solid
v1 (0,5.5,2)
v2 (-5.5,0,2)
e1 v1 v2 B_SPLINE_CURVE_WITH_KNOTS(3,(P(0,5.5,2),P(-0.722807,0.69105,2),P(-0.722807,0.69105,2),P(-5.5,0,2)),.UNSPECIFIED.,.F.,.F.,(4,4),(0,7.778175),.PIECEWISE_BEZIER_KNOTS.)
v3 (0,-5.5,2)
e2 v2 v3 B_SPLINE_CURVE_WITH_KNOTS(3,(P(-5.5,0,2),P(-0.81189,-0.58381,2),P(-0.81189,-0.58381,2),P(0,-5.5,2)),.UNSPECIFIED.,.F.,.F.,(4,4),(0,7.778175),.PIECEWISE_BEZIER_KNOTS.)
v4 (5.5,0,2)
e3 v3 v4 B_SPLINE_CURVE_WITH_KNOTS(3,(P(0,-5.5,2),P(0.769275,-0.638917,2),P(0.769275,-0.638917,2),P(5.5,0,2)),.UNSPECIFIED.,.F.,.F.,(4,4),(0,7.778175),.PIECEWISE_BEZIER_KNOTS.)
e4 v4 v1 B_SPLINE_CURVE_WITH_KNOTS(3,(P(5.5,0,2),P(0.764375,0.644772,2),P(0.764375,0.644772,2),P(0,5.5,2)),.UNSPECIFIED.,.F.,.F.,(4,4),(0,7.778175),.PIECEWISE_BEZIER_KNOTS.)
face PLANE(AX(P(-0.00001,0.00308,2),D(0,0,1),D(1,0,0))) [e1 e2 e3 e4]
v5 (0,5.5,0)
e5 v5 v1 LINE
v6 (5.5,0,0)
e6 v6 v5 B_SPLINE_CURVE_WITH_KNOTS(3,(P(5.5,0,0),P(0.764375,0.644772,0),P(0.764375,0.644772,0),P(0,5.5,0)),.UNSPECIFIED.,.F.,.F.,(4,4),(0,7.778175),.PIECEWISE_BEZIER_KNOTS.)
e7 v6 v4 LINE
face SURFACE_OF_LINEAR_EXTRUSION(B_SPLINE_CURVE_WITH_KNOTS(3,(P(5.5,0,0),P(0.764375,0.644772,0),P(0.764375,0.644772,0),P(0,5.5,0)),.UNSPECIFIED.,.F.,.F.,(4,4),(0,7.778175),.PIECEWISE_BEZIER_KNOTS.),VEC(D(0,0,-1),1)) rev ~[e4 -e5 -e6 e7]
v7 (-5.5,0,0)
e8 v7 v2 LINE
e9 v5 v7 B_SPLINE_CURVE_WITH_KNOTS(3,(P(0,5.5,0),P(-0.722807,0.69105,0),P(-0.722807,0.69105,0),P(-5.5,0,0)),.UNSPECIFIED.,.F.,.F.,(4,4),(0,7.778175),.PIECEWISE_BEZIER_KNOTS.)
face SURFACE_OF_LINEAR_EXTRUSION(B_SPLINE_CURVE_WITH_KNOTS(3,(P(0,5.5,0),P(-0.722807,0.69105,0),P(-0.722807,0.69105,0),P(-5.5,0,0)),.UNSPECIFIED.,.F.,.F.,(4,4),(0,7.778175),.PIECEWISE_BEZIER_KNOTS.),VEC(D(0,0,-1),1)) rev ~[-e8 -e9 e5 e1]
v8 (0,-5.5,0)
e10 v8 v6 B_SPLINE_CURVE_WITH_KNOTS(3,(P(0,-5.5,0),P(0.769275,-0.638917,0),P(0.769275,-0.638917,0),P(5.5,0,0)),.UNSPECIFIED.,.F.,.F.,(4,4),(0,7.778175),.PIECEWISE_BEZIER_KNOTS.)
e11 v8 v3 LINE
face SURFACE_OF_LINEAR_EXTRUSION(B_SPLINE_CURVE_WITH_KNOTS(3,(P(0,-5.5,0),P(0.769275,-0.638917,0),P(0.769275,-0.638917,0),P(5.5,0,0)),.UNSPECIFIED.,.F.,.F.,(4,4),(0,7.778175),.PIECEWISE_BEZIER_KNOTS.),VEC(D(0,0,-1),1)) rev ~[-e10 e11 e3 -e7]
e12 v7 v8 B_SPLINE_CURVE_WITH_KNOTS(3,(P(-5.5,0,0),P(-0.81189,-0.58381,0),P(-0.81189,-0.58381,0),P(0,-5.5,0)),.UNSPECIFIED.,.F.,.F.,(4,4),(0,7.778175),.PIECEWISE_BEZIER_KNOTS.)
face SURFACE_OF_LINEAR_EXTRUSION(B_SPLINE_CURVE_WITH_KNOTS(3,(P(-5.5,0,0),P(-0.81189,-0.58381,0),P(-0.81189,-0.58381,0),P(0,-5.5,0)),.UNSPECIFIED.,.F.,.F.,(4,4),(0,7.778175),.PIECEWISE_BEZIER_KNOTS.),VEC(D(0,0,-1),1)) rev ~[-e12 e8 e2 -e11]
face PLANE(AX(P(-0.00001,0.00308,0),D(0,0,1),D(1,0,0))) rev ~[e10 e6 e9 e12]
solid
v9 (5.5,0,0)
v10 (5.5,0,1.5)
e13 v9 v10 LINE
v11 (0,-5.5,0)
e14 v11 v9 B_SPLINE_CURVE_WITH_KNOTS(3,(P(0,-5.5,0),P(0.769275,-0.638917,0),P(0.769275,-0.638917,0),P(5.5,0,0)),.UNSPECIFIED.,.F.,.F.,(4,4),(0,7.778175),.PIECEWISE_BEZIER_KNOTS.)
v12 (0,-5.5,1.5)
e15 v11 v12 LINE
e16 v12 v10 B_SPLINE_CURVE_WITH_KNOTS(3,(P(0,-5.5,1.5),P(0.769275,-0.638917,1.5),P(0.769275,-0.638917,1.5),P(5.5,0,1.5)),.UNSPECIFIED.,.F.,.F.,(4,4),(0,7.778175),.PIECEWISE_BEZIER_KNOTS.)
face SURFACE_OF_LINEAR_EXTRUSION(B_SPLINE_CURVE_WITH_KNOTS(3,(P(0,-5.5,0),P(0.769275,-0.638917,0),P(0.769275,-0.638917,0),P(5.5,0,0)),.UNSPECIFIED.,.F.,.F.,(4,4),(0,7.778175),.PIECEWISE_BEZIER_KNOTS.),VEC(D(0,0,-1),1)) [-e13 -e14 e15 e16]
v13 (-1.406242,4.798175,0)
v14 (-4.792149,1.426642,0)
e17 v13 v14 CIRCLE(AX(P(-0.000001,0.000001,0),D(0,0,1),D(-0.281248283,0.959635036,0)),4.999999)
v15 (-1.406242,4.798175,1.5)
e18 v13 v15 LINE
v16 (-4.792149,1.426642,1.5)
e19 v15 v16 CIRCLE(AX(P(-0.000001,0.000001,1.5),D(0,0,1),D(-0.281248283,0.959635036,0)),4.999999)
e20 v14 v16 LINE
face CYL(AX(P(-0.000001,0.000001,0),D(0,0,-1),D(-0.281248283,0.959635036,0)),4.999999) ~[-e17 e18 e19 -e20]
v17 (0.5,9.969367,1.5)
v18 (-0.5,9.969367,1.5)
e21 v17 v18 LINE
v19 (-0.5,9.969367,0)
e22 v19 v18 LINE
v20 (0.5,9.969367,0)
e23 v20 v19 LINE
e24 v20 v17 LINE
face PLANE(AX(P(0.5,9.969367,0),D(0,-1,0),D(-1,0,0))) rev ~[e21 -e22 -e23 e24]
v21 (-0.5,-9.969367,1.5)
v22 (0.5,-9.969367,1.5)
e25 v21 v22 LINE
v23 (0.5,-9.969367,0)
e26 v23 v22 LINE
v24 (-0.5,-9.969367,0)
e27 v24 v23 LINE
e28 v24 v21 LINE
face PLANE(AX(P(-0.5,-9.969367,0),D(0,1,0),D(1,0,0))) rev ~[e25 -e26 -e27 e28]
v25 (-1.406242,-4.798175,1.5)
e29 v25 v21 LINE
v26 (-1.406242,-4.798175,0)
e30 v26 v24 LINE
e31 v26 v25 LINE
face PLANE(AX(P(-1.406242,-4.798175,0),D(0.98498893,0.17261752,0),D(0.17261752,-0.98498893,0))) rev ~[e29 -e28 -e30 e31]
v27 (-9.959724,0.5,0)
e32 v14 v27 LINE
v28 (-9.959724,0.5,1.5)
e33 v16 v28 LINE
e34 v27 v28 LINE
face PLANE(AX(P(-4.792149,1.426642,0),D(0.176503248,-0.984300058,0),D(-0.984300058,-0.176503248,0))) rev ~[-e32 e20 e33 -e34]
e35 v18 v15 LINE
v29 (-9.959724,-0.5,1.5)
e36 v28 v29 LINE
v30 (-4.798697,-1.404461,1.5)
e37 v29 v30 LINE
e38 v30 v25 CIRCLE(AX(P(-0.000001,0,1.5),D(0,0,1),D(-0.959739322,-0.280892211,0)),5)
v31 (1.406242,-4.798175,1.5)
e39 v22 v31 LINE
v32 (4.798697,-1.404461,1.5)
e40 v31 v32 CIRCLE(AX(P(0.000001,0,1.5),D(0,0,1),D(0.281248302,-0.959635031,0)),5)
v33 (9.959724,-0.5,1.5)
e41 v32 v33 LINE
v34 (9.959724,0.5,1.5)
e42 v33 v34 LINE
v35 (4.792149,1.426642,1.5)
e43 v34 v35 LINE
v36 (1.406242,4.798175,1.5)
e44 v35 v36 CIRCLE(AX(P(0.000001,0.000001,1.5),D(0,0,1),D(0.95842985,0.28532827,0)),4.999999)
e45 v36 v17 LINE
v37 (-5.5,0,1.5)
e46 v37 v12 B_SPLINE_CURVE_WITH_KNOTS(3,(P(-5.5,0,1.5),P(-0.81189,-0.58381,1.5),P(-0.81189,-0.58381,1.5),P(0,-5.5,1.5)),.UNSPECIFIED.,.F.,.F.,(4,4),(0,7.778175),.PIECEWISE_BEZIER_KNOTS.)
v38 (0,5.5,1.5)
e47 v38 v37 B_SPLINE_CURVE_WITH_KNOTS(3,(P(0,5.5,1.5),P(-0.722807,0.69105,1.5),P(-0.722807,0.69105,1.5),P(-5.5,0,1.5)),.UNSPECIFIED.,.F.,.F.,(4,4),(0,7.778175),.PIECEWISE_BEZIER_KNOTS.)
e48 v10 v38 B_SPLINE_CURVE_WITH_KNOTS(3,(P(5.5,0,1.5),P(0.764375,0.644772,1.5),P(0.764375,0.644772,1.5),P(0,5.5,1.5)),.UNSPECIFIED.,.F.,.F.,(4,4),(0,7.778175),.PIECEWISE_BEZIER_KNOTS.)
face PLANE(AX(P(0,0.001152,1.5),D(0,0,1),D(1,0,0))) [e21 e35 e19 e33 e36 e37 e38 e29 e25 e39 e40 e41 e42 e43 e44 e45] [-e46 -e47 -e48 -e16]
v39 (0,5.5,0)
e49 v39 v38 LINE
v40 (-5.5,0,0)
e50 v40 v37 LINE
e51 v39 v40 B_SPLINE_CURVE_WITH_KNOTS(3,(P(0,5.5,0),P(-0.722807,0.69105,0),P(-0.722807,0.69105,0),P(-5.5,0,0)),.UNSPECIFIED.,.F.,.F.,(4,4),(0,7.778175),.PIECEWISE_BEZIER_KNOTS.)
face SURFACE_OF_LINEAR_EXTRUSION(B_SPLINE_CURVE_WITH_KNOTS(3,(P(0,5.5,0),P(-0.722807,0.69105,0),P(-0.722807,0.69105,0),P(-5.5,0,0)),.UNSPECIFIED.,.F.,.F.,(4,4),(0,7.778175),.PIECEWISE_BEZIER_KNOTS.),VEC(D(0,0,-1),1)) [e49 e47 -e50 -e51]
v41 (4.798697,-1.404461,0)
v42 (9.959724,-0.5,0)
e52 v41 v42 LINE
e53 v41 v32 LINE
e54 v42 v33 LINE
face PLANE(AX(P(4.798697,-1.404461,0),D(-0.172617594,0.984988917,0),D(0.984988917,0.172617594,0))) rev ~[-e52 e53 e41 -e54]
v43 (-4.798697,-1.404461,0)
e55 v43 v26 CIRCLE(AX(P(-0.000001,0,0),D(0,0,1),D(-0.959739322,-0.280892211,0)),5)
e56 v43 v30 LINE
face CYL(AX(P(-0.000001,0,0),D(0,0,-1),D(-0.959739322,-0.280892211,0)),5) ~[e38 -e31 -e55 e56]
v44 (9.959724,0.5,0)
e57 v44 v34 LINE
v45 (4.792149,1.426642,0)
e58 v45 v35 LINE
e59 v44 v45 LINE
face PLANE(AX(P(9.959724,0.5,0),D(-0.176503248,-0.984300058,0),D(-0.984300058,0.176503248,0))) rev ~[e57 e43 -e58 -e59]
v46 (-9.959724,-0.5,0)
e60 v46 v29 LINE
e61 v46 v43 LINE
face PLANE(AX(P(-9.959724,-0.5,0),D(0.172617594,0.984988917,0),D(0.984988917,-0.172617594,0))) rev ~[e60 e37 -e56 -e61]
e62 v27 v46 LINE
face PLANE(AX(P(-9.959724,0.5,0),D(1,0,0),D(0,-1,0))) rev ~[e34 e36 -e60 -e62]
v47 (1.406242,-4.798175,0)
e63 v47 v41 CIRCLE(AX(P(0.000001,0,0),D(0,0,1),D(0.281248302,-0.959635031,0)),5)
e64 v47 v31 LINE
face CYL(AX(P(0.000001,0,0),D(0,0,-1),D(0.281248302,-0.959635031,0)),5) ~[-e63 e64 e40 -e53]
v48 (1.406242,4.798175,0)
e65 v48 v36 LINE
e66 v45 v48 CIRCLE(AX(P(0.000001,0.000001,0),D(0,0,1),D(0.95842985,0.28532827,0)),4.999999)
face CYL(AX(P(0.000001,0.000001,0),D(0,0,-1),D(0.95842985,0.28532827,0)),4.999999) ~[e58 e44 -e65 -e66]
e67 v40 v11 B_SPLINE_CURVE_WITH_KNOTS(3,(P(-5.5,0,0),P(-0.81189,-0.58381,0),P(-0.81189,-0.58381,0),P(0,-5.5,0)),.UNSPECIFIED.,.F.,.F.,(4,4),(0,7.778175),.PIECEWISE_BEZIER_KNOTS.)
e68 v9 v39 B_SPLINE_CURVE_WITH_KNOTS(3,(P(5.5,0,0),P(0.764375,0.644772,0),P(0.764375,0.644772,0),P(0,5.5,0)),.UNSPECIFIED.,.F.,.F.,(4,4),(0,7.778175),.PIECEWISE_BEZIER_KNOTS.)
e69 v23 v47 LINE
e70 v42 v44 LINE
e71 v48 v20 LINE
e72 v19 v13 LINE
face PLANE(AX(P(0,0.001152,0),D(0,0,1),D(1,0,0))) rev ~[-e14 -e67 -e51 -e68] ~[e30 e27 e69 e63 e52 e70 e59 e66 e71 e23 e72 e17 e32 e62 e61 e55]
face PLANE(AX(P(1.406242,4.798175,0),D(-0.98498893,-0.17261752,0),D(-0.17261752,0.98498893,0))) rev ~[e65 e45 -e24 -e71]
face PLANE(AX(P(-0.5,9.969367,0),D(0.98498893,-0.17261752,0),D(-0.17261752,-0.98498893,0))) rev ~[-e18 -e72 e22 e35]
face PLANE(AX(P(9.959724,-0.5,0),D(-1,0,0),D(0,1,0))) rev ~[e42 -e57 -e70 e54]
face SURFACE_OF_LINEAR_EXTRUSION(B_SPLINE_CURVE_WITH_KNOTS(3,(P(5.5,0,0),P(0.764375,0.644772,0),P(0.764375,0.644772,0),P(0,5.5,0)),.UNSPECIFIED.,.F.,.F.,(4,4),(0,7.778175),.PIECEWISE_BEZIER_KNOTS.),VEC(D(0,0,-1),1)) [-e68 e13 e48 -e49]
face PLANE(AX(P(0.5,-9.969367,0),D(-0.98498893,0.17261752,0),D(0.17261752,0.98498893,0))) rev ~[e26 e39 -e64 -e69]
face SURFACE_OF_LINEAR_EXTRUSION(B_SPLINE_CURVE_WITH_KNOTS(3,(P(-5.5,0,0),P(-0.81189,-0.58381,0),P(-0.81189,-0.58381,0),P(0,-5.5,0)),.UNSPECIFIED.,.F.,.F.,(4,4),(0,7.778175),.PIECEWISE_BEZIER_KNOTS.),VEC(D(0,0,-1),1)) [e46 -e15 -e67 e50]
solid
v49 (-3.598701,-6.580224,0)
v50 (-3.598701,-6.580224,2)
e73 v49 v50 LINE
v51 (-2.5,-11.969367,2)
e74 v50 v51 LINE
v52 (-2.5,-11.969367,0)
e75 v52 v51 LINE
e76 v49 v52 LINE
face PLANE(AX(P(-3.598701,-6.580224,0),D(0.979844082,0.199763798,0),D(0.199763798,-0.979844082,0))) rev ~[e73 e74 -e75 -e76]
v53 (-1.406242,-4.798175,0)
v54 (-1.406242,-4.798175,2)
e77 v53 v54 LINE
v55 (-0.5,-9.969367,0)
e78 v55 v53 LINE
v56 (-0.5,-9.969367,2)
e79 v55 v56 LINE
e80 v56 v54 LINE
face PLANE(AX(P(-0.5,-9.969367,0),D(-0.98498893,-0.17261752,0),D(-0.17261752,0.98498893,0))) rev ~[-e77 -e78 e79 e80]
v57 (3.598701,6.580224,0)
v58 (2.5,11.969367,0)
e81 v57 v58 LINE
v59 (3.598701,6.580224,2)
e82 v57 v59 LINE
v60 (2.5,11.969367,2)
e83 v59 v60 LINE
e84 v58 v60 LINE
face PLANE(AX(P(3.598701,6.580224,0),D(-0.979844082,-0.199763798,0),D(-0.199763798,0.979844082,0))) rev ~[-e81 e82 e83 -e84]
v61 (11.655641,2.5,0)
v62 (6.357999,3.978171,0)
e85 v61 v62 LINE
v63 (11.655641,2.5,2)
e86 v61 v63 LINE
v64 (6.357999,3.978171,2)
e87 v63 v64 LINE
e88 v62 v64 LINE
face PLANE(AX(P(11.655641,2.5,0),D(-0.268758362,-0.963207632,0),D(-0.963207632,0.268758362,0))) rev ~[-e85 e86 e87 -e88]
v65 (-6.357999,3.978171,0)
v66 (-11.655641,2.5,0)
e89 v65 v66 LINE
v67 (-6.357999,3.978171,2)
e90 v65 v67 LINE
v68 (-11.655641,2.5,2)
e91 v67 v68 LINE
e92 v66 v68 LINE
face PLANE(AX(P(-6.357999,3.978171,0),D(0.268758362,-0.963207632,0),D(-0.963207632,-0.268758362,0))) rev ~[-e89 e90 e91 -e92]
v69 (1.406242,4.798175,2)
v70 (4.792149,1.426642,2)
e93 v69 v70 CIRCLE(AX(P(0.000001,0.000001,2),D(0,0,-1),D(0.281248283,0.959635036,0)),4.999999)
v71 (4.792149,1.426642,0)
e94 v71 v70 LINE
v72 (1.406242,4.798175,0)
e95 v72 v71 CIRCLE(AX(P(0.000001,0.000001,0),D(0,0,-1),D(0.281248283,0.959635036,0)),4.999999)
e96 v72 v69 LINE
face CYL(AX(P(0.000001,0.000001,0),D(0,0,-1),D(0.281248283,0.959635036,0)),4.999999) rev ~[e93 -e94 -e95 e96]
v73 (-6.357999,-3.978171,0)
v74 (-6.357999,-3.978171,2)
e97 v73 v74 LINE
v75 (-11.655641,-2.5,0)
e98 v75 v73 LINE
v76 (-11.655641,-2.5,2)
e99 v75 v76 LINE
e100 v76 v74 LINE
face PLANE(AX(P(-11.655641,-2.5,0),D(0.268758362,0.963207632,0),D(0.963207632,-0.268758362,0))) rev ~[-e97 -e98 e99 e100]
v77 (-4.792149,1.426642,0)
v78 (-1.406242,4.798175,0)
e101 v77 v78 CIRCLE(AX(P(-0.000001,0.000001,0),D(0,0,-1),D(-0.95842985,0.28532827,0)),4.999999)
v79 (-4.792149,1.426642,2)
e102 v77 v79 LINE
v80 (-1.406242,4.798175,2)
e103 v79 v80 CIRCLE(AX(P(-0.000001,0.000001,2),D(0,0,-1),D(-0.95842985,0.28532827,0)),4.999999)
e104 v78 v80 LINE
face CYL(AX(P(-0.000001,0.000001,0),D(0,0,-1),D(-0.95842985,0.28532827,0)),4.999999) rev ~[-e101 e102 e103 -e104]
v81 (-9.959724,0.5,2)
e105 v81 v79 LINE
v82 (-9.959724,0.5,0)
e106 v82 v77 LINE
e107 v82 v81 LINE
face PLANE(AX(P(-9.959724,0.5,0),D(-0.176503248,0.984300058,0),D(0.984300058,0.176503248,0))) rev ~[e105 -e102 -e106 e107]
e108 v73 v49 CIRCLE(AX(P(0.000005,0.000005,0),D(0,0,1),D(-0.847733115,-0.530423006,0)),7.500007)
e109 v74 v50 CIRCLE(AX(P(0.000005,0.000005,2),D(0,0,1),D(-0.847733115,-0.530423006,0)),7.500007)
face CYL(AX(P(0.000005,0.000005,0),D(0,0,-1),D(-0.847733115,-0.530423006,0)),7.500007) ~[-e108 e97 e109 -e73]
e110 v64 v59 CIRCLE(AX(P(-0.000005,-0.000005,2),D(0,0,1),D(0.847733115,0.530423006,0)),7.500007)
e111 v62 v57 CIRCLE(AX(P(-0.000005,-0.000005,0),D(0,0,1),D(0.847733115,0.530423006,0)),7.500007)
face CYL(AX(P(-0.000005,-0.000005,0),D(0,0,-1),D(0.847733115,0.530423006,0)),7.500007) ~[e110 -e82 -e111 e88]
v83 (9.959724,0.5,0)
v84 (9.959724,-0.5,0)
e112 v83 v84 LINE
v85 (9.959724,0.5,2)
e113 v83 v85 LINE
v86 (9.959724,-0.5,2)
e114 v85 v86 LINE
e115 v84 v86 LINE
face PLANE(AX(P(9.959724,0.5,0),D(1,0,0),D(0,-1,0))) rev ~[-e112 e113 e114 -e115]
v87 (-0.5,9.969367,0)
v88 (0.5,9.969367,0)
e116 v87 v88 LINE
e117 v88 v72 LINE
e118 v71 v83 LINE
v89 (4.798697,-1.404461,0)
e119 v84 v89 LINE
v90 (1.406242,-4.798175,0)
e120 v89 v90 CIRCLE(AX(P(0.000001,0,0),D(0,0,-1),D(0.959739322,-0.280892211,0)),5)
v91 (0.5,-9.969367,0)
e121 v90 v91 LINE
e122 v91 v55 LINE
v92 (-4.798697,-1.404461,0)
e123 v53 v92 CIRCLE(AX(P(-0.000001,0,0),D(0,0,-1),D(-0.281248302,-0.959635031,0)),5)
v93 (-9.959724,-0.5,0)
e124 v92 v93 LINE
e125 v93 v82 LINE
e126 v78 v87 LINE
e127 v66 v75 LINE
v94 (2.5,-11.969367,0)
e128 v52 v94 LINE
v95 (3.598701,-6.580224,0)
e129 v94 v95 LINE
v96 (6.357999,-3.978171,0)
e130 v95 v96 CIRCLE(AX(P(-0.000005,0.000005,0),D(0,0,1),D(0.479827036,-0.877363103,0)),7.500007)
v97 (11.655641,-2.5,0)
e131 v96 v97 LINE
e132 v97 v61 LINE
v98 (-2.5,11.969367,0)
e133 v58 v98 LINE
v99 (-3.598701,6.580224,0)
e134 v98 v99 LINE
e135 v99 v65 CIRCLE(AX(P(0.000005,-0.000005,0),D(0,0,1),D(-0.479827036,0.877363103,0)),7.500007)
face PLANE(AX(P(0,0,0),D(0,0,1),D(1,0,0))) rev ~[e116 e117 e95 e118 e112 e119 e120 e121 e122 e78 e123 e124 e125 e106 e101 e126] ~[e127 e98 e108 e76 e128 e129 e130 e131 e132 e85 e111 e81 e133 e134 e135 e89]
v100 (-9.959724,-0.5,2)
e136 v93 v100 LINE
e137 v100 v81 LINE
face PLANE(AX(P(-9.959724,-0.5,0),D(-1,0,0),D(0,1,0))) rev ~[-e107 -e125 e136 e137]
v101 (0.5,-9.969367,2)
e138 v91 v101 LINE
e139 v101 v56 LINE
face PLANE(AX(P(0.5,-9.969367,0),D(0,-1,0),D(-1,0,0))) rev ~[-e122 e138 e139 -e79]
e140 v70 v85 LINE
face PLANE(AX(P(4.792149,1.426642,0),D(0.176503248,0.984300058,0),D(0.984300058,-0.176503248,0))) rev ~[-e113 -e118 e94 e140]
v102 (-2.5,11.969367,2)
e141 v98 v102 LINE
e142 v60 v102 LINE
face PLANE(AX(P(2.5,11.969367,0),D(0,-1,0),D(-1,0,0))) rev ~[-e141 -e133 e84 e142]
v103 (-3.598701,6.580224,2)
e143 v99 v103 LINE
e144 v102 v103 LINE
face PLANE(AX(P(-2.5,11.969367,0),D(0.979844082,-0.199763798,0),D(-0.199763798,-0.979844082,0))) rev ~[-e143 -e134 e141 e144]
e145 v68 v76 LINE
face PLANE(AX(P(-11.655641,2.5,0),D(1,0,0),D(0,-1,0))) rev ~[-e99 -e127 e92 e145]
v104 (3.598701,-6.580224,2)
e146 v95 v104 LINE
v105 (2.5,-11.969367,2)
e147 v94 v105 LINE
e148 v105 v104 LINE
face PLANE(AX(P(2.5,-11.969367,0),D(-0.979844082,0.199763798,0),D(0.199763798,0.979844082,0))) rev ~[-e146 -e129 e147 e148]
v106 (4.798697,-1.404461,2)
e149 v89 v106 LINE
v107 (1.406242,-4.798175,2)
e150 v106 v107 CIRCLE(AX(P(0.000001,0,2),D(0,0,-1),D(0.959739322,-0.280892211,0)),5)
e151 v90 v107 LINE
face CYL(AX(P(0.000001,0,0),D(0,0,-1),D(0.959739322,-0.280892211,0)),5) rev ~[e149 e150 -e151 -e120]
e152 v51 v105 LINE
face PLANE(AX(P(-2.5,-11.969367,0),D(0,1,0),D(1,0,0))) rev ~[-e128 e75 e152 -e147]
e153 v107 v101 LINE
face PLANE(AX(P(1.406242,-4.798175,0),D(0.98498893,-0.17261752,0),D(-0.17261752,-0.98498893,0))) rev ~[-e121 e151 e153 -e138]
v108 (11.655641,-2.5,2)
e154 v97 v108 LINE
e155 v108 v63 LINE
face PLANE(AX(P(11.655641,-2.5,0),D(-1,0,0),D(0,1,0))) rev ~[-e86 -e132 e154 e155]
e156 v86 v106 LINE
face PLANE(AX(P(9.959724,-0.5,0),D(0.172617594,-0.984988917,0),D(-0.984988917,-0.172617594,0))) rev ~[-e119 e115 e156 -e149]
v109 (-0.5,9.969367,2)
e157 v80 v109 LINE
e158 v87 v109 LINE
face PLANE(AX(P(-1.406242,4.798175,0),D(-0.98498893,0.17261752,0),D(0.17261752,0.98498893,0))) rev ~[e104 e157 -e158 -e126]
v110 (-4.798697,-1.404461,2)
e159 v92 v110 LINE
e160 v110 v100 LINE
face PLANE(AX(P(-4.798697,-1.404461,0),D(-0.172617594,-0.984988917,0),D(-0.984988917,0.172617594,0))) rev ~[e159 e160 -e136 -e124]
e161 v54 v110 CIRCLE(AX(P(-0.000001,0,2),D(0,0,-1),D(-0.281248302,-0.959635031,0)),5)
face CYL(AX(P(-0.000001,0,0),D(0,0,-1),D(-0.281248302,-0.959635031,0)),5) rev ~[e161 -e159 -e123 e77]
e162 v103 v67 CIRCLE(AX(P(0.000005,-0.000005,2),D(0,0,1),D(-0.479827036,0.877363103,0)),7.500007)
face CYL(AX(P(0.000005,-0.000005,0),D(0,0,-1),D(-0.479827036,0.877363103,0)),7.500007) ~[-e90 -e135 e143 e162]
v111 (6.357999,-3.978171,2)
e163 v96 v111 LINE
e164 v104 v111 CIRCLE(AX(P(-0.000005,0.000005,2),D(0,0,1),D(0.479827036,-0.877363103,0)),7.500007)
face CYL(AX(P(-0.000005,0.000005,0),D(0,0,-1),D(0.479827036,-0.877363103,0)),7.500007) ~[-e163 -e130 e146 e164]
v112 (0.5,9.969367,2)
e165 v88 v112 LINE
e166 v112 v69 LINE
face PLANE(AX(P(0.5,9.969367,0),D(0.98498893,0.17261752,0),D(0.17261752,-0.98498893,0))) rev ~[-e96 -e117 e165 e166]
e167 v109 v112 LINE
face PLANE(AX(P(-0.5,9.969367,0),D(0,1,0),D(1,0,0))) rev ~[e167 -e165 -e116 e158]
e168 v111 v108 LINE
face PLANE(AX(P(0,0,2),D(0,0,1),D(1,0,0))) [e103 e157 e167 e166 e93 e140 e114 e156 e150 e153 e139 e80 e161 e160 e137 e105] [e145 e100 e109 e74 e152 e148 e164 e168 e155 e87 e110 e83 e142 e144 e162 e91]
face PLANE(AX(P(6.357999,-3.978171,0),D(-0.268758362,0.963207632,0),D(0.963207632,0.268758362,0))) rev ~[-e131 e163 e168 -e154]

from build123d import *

# Parameters (mm, degrees)
F1_DEPTH = 2
F2_DEPTH = 1.5


with BuildPart() as f1:
    # F0 (on Top) → F1 (new body)
    with BuildSketch(Plane.XY):
        with BuildLine():
            Line((2.5, 11.969367), (-2.5, 11.969367))
            Line((-2.5, 11.969367), (-3.598701, 6.580224))
            ThreePointArc((-3.598701, 6.580224), (-5.145545, 5.456497), (-6.357999, 3.978171))
            Line((-6.357999, 3.978171), (-11.655641, 2.5))
            Line((-11.655641, 2.5), (-11.655641, -2.5))
            Line((-11.655641, -2.5), (-6.357999, -3.978171))
            ThreePointArc((-6.357999, -3.978171), (-5.145545, -5.456497), (-3.598701, -6.580224))
            Line((-3.598701, -6.580224), (-2.5, -11.969367))
            Line((-2.5, -11.969367), (2.5, -11.969367))
            Line((2.5, -11.969367), (3.598701, -6.580224))
            ThreePointArc((3.598701, -6.580224), (5.145545, -5.456497), (6.357999, -3.978171))
            Line((6.357999, -3.978171), (11.655641, -2.5))
            Line((11.655641, -2.5), (11.655641, 2.5))
            Line((11.655641, 2.5), (6.357999, 3.978171))
            ThreePointArc((6.357999, 3.978171), (5.145545, 5.456497), (3.598701, 6.580224))
            Line((3.598701, 6.580224), (2.5, 11.969367))
        make_face()
        with BuildLine():
            ThreePointArc((-4.792149, 1.426642), (-3.528005, 3.543047), (-1.406242, 4.798175))
            Line((-1.406242, 4.798175), (-0.5, 9.969367))
            Line((-0.5, 9.969367), (0.5, 9.969367))
            Line((0.5, 9.969367), (1.406242, 4.798175))
            ThreePointArc((1.406242, 4.798175), (3.528005, 3.543047), (4.792149, 1.426642))
            Line((4.792149, 1.426642), (9.959724, 0.5))
            Line((9.959724, 0.5), (9.959724, -0.5))
            Line((9.959724, -0.5), (4.798697, -1.404461))
            ThreePointArc((4.798697, -1.404461), (3.53619, -3.534878), (1.406242, -4.798175))
            Line((1.406242, -4.798175), (0.5, -9.969367))
            Line((0.5, -9.969367), (-0.5, -9.969367))
            Line((-0.5, -9.969367), (-1.406242, -4.798175))
            ThreePointArc((-1.406242, -4.798175), (-3.53619, -3.534878), (-4.798697, -1.404461))
            Line((-4.798697, -1.404461), (-9.959724, -0.5))
            Line((-9.959724, -0.5), (-9.959724, 0.5))
            Line((-9.959724, 0.5), (-4.792149, 1.426642))
        make_face(mode=Mode.SUBTRACT)
        with BuildLine():
            add(Edge.make_bspline(
                [(0, 5.5), (-0.722807, 0.69105), (-0.722807, 0.69105), (-5.5, 0)],
                knots=[0, 0, 0, 0, 7.778175, 7.778175, 7.778175, 7.778175], degree=3))
            add(Edge.make_bspline(
                [(-5.5, 0), (-0.81189, -0.58381), (-0.81189, -0.58381), (0, -5.5)],
                knots=[0, 0, 0, 0, 7.778175, 7.778175, 7.778175, 7.778175], degree=3))
            add(Edge.make_bspline(
                [(0, -5.5), (0.769275, -0.638917), (0.769275, -0.638917), (5.5, 0)],
                knots=[0, 0, 0, 0, 7.778175, 7.778175, 7.778175, 7.778175], degree=3))
            add(Edge.make_bspline(
                [(5.5, 0), (0.764375, 0.644772), (0.764375, 0.644772), (0, 5.5)],
                knots=[0, 0, 0, 0, 7.778175, 7.778175, 7.778175, 7.778175], degree=3))
        make_face()
    extrude(amount=F1_DEPTH)


with BuildPart() as f2:
    # F0 (on Top) → F2 (new body)
    with BuildSketch(Plane.XY):
        with BuildLine():
            Line((-0.5, 9.969367), (-1.406242, 4.798175))
            ThreePointArc((-1.406242, 4.798175), (-3.528005, 3.543047), (-4.792149, 1.426642))
            Line((-4.792149, 1.426642), (-9.959724, 0.5))
            Line((-9.959724, 0.5), (-9.959724, -0.5))
            Line((-9.959724, -0.5), (-4.798697, -1.404461))
            ThreePointArc((-4.798697, -1.404461), (-3.53619, -3.534878), (-1.406242, -4.798175))
            Line((-1.406242, -4.798175), (-0.5, -9.969367))
            Line((-0.5, -9.969367), (0.5, -9.969367))
            Line((0.5, -9.969367), (1.406242, -4.798175))
            ThreePointArc((1.406242, -4.798175), (3.53619, -3.534878), (4.798697, -1.404461))
            Line((4.798697, -1.404461), (9.959724, -0.5))
            Line((9.959724, -0.5), (9.959724, 0.5))
            Line((9.959724, 0.5), (4.792149, 1.426642))
            ThreePointArc((4.792149, 1.426642), (3.528005, 3.543047), (1.406242, 4.798175))
            Line((1.406242, 4.798175), (0.5, 9.969367))
            Line((0.5, 9.969367), (-0.5, 9.969367))
        make_face()
        with BuildLine():
            add(Edge.make_bspline(
                [(-5.5, 0), (-0.81189, -0.58381), (-0.81189, -0.58381), (0, -5.5)],
                knots=[0, 0, 0, 0, 7.778175, 7.778175, 7.778175, 7.778175], degree=3))
            add(Edge.make_bspline(
                [(0, 5.5), (-0.722807, 0.69105), (-0.722807, 0.69105), (-5.5, 0)],
                knots=[0, 0, 0, 0, 7.778175, 7.778175, 7.778175, 7.778175], degree=3))
            add(Edge.make_bspline(
                [(5.5, 0), (0.764375, 0.644772), (0.764375, 0.644772), (0, 5.5)],
                knots=[0, 0, 0, 0, 7.778175, 7.778175, 7.778175, 7.778175], degree=3))
            add(Edge.make_bspline(
                [(0, -5.5), (0.769275, -0.638917), (0.769275, -0.638917), (5.5, 0)],
                knots=[0, 0, 0, 0, 7.778175, 7.778175, 7.778175, 7.778175], degree=3))
        make_face(mode=Mode.SUBTRACT)
    extrude(amount=F2_DEPTH)


solid = Compound([f1.part, f2.part])
